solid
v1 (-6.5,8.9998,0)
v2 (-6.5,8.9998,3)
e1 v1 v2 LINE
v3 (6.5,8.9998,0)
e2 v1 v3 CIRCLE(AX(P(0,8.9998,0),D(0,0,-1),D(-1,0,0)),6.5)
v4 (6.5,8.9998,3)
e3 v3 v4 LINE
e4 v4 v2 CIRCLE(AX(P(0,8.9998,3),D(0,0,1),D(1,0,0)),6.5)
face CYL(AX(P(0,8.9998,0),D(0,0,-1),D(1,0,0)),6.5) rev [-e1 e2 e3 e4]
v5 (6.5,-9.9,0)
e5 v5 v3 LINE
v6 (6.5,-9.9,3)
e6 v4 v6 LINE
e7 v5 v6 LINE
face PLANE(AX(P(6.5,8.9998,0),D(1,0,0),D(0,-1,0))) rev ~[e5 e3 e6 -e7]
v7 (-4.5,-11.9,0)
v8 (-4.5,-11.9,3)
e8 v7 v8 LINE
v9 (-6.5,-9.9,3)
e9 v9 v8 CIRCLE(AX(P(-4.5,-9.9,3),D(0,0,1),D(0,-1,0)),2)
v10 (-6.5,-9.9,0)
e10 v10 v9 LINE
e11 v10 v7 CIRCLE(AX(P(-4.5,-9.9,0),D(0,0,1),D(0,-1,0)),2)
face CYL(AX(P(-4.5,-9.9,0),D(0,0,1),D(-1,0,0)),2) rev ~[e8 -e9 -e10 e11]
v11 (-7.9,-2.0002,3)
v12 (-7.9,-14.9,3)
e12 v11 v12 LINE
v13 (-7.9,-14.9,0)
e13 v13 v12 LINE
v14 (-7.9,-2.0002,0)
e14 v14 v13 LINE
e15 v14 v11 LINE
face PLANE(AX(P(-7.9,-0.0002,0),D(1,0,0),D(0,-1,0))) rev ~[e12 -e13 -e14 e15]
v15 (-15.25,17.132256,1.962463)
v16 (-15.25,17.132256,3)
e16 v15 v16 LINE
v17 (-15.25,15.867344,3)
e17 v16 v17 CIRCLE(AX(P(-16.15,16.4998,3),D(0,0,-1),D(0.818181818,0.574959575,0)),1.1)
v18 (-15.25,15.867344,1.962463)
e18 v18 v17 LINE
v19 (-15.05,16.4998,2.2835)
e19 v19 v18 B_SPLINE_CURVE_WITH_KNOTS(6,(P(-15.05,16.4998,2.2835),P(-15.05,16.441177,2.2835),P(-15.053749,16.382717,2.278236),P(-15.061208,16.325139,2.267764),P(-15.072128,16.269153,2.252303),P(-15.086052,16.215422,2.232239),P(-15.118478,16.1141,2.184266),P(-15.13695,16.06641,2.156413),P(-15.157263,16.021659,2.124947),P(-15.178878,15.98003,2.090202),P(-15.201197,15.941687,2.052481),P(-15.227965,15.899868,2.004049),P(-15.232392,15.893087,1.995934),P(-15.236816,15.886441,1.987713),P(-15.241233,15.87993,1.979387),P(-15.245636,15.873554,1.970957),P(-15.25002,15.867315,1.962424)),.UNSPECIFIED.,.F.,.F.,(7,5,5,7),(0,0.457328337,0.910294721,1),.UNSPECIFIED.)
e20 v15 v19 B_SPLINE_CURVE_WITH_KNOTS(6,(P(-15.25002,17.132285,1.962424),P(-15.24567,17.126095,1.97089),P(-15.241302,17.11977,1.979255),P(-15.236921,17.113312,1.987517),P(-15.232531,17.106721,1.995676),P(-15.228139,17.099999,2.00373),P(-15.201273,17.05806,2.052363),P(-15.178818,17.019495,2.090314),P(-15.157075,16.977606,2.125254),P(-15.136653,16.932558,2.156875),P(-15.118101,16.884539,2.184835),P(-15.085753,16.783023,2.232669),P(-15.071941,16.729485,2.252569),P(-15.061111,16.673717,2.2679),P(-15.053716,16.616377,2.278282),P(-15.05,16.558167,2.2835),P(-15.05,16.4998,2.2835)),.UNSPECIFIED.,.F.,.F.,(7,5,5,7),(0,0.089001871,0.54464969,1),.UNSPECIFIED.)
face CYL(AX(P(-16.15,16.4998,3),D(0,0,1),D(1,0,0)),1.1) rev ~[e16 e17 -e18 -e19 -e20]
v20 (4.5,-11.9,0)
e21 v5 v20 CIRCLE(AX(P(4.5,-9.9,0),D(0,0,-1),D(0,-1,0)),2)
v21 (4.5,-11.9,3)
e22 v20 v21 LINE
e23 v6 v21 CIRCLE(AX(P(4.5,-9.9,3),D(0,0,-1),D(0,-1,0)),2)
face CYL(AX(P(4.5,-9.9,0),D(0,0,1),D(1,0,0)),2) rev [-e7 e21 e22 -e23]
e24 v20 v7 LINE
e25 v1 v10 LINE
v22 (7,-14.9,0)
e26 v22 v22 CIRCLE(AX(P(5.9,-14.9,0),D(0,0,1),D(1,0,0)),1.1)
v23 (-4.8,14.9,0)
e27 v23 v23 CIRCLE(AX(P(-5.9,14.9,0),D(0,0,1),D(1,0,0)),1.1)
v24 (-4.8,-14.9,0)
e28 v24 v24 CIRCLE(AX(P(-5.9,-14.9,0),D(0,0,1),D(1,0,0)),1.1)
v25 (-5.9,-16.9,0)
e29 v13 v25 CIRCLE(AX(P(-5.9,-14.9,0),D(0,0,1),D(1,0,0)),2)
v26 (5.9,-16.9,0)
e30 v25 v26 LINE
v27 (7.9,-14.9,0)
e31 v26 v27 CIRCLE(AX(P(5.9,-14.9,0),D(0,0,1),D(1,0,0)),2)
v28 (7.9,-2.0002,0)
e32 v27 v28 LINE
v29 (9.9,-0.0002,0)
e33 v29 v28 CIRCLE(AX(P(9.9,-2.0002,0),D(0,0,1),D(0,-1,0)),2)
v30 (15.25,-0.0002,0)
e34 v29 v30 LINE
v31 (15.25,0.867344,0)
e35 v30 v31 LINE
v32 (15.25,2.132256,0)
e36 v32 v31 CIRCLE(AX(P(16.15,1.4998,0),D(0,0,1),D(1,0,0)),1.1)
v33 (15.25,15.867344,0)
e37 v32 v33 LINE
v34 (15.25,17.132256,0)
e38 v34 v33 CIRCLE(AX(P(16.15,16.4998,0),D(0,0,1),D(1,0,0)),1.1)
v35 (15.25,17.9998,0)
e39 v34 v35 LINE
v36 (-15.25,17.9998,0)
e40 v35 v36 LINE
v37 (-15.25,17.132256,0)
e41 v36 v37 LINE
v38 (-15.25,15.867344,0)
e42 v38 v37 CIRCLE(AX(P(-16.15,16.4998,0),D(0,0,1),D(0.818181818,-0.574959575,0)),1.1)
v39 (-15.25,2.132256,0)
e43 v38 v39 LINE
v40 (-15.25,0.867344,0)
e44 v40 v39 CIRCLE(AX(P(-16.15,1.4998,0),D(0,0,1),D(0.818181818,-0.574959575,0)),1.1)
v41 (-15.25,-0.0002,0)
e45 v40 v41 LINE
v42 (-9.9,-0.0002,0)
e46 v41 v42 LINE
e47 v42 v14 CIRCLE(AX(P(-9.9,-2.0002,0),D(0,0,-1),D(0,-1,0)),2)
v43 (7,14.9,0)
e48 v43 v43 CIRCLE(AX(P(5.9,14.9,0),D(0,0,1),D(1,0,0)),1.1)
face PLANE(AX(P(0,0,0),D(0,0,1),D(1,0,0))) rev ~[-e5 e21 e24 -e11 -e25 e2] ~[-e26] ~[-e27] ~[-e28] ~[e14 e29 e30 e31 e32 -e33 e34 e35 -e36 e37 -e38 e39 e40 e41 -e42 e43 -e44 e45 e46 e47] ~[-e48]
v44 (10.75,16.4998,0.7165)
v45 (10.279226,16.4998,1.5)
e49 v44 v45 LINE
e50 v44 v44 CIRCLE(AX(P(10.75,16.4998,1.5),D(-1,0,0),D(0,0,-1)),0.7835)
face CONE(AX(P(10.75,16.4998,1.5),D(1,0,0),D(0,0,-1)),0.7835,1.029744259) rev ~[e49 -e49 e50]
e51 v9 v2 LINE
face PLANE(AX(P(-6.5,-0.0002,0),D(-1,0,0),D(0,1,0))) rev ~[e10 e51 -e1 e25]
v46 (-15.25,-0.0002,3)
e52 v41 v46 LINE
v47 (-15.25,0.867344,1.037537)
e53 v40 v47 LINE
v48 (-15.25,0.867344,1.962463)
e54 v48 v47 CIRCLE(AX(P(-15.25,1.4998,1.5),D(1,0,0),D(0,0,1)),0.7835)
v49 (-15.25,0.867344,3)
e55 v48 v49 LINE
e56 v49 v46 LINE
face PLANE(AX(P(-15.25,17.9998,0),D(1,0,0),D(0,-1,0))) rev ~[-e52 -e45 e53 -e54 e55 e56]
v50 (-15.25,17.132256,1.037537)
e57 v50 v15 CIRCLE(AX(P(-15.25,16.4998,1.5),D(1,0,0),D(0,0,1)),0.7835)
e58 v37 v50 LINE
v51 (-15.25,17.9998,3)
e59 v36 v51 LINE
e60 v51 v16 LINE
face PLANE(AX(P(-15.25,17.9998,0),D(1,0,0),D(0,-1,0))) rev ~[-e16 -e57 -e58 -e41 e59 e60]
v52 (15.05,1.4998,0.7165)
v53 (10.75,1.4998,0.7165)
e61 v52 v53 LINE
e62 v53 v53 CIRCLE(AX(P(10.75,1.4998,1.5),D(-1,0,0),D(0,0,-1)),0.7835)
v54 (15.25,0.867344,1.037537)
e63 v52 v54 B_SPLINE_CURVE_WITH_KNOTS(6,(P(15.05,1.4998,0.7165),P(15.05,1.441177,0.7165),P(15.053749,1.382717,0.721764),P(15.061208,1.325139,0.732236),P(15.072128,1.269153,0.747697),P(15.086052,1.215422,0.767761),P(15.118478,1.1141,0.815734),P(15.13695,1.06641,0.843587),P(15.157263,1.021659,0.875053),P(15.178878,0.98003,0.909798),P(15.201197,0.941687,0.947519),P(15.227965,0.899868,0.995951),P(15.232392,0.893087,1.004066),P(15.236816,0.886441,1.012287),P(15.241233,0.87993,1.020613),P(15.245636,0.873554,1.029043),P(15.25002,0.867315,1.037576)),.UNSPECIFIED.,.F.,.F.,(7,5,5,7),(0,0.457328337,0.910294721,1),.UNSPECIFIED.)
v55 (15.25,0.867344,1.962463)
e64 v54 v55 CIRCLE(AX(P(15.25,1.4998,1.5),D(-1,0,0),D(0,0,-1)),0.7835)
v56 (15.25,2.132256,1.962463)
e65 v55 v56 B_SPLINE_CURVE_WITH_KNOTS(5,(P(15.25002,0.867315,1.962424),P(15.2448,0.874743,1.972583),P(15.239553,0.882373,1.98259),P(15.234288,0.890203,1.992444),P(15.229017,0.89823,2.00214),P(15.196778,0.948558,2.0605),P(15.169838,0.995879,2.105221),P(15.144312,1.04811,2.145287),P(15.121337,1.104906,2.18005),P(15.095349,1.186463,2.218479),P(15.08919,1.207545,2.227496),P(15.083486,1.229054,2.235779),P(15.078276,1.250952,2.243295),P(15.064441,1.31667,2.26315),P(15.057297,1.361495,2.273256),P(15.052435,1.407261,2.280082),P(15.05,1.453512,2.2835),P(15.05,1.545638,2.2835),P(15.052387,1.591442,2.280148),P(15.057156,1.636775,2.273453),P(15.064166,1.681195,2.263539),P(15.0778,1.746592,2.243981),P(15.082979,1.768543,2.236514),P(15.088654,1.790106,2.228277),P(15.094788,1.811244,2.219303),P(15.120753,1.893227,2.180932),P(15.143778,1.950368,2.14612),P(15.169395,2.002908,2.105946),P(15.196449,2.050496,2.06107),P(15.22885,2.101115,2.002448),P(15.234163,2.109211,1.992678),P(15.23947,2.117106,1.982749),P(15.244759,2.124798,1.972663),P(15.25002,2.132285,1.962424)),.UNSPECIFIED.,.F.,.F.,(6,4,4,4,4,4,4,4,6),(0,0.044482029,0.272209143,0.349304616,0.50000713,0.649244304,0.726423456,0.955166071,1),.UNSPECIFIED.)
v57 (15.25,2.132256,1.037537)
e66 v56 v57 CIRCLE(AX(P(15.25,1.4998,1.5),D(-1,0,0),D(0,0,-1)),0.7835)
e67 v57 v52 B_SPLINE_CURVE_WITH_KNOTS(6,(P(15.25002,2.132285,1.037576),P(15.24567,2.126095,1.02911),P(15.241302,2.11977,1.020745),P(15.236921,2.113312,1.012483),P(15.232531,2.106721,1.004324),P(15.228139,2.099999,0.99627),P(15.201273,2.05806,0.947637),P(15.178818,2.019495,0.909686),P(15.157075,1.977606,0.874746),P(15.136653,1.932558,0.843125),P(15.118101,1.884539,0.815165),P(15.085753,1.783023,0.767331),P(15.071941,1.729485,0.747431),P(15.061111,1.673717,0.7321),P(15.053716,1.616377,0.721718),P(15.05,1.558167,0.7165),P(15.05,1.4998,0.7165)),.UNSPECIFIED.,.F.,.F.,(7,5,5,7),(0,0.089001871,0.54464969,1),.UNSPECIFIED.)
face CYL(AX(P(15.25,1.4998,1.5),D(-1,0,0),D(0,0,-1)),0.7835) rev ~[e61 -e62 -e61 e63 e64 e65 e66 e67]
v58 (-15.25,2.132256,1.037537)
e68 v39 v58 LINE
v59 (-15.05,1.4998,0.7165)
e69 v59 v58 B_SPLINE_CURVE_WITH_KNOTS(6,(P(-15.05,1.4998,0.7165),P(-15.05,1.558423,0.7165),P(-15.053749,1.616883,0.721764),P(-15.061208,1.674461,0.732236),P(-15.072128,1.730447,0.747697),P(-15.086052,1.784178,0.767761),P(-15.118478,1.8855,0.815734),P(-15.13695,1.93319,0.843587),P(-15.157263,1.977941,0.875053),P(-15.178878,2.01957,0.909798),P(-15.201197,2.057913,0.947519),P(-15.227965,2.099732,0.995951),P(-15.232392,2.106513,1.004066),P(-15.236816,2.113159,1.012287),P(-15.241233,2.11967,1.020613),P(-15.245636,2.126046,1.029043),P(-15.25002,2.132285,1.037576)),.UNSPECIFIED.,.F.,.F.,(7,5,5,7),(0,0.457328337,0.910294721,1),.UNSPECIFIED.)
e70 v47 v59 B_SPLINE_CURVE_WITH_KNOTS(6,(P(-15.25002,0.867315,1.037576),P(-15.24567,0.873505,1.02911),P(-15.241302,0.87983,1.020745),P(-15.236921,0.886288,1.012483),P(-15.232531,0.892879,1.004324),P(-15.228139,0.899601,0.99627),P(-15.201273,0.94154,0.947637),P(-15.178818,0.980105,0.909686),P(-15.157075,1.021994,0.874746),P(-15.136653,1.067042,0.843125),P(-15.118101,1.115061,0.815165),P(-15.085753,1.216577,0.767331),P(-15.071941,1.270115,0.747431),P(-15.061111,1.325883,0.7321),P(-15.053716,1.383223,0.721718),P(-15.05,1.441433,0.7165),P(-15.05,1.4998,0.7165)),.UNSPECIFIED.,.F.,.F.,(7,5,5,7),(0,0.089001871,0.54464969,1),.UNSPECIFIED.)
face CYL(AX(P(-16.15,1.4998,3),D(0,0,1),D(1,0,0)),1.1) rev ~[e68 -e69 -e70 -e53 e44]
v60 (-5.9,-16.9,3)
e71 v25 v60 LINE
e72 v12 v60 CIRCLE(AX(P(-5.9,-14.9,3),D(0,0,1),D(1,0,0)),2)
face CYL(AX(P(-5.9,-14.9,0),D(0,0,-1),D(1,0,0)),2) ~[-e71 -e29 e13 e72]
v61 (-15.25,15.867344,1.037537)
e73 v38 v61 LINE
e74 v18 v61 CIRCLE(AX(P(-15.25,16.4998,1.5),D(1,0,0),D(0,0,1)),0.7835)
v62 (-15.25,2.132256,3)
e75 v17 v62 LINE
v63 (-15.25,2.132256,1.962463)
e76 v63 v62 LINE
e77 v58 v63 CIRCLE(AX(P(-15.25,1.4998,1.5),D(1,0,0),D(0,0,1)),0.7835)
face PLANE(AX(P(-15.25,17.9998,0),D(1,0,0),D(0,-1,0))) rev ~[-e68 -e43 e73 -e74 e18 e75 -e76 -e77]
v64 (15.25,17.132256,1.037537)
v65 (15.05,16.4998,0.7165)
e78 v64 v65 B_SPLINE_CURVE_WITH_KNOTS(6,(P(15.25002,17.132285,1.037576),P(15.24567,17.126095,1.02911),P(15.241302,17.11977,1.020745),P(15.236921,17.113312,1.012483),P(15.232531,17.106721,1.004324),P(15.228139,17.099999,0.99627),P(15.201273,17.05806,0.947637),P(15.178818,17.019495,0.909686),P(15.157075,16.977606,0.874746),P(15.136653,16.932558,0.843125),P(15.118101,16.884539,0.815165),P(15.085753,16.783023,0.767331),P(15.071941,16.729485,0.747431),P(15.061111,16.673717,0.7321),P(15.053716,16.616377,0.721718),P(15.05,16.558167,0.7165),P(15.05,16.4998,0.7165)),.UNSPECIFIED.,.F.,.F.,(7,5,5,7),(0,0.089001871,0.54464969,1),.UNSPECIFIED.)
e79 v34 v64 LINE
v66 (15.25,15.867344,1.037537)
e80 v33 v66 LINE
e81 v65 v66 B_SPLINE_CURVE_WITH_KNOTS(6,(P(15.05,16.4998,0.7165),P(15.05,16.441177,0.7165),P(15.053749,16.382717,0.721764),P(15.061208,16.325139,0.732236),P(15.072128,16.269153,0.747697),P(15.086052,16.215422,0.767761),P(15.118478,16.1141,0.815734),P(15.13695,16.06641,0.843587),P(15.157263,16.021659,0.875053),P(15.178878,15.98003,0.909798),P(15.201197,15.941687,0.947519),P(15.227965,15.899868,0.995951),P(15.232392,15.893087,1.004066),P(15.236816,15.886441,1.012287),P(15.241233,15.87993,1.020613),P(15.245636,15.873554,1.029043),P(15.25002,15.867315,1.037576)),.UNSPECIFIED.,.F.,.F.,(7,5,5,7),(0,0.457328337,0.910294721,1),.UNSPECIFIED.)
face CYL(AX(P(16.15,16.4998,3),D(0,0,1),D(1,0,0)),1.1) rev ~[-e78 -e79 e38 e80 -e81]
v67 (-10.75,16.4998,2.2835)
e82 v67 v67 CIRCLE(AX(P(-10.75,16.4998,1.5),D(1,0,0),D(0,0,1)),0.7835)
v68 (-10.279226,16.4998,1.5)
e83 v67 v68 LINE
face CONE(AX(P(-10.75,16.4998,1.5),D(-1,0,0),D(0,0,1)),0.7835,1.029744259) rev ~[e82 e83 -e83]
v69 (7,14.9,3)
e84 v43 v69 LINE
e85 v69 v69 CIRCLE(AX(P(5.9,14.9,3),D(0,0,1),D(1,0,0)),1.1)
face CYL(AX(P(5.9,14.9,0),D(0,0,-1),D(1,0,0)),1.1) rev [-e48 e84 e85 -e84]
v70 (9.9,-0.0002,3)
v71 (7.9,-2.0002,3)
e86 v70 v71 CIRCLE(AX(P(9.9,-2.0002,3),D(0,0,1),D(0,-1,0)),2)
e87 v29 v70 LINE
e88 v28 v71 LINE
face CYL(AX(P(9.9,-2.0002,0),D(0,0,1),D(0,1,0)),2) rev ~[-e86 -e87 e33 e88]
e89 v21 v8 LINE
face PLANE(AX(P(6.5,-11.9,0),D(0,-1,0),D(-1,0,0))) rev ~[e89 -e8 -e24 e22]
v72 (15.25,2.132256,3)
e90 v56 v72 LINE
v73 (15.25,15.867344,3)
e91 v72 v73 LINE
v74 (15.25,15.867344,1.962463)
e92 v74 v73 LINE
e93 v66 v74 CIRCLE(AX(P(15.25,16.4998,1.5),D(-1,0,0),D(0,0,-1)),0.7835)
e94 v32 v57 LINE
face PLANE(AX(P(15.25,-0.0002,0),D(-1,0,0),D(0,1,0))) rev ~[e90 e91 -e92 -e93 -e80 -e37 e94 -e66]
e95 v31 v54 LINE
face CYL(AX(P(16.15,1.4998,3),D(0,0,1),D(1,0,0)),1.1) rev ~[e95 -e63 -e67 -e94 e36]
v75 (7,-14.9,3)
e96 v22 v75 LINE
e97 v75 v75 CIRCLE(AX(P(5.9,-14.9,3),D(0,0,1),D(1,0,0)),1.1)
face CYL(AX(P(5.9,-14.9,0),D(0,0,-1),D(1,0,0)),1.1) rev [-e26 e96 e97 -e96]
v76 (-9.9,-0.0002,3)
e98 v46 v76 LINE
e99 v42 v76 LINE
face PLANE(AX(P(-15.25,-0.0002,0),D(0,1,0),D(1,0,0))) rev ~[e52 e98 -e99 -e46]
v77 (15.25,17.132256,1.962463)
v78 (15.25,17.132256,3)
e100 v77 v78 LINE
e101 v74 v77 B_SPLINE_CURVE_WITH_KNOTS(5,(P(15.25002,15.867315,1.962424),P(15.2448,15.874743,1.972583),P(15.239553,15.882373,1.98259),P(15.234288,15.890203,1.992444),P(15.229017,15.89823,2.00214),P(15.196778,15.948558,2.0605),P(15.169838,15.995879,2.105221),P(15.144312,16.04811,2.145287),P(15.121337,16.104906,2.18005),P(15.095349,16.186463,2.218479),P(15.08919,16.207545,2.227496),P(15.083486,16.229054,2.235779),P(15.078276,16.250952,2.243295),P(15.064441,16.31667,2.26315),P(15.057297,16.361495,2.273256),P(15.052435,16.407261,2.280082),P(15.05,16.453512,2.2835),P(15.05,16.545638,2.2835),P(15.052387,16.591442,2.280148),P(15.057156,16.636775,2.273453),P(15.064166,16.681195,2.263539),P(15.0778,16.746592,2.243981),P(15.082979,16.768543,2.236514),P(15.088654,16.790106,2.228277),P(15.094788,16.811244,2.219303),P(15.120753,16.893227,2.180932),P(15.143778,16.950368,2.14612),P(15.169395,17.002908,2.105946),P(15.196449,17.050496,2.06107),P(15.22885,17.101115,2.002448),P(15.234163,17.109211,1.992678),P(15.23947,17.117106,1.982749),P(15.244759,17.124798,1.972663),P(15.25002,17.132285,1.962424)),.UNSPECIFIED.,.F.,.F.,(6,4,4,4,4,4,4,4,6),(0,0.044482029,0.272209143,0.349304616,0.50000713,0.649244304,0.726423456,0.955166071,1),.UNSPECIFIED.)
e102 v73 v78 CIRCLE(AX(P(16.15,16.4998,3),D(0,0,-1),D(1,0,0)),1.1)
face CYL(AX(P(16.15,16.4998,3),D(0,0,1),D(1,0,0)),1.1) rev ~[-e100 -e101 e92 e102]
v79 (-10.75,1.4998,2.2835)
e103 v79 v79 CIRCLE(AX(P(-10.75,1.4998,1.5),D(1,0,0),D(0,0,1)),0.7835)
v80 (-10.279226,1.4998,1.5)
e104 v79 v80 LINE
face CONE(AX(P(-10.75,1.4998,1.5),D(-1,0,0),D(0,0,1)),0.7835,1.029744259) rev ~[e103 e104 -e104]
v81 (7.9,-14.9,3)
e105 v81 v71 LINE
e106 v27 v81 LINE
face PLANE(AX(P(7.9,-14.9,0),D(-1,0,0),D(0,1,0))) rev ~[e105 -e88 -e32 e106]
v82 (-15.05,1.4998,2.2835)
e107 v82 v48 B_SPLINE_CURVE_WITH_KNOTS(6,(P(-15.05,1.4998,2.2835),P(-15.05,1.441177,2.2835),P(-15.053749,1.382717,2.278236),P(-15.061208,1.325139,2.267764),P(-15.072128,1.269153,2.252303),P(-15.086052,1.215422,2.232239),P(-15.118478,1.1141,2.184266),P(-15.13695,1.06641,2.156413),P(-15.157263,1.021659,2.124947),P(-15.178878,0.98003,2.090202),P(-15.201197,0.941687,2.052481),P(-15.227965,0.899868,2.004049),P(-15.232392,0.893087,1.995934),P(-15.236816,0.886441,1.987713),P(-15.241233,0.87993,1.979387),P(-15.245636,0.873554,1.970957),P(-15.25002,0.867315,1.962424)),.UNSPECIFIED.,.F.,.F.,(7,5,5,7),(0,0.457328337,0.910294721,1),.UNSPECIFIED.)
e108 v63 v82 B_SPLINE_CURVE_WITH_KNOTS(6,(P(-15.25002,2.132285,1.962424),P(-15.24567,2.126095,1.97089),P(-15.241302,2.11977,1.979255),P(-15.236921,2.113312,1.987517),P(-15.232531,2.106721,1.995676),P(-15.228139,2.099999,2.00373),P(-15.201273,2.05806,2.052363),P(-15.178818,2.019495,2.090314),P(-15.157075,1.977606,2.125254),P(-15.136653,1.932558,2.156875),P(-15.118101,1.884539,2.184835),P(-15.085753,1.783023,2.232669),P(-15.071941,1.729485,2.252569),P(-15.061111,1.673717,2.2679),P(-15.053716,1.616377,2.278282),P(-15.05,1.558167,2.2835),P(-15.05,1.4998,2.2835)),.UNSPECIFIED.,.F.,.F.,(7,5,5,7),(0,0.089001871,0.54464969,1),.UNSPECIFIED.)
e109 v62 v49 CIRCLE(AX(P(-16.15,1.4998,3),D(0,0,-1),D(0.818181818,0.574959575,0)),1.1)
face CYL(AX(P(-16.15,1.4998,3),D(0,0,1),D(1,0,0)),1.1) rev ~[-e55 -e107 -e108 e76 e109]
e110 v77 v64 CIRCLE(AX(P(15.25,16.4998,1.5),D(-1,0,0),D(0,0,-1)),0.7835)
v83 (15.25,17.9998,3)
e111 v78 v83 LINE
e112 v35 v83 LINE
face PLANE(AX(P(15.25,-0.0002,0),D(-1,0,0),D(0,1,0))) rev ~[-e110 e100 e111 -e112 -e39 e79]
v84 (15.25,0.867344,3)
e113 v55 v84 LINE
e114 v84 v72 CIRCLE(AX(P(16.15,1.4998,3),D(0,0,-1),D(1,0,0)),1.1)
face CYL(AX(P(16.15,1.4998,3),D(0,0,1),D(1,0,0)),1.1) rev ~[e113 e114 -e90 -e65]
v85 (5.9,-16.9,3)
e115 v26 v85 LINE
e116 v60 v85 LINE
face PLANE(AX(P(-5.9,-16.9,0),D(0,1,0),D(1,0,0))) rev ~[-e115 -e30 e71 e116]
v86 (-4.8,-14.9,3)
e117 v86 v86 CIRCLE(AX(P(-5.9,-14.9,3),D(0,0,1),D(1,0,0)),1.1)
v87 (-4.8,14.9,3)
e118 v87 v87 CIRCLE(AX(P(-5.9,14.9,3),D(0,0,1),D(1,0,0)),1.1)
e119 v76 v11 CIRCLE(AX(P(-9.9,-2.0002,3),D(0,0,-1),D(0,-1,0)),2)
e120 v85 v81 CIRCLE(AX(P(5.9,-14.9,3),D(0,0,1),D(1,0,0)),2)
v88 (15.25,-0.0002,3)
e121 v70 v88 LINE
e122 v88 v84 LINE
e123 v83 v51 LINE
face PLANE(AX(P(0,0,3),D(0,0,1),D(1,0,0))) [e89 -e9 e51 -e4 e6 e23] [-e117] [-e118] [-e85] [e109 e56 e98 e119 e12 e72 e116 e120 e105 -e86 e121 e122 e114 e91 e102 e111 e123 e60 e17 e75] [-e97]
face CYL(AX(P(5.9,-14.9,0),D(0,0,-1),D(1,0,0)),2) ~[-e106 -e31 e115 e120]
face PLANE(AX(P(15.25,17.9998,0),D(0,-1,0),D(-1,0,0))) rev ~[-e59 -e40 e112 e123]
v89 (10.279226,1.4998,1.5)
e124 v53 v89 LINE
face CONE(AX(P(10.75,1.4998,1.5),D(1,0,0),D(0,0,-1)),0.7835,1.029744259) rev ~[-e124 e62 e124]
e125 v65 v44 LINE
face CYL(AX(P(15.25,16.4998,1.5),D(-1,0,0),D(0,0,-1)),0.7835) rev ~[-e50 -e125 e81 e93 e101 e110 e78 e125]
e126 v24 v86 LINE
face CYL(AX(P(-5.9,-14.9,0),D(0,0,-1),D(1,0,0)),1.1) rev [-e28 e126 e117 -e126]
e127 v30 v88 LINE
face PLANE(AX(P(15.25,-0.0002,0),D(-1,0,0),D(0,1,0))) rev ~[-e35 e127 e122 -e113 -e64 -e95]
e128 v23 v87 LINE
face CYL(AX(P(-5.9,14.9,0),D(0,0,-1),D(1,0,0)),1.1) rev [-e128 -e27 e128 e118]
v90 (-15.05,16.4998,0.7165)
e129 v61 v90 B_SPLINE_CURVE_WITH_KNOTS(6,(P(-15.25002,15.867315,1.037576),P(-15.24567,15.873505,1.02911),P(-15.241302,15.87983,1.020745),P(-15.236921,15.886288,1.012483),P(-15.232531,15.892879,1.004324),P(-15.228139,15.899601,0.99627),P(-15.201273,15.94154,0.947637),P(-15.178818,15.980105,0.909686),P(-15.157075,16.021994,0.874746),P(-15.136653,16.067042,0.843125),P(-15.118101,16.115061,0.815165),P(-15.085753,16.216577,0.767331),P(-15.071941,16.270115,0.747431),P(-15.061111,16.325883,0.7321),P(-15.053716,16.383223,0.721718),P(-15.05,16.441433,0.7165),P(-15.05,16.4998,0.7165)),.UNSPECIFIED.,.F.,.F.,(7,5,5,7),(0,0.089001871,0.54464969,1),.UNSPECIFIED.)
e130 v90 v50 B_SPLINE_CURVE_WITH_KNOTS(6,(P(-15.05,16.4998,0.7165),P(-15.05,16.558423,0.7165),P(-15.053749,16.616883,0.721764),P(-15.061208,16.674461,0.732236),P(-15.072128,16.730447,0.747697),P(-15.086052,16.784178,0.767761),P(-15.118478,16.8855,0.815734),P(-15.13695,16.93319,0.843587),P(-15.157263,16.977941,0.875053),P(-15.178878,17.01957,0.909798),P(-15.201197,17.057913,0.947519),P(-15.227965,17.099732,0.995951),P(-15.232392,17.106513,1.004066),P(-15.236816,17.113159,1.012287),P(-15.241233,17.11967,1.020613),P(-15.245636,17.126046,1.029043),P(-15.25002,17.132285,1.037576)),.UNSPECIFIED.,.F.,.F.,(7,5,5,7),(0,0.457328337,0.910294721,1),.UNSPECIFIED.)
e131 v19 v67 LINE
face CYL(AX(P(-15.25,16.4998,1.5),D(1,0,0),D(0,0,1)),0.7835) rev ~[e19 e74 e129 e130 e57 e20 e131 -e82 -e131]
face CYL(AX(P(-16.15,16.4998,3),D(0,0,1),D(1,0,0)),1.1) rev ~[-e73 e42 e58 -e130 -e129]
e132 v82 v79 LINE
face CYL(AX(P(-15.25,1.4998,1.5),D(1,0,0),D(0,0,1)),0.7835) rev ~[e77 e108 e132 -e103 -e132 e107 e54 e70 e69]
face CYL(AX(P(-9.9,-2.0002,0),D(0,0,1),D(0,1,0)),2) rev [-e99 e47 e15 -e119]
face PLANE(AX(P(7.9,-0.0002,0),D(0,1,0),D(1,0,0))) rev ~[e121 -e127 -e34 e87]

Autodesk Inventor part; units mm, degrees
ref_plane "YZ Plane" through (0, 0, 0) normal (1, 0, 0) x (0, 1, 0)
ref_plane "XZ Plane" through (0, 0, 0) normal (0, 1, 0) x (-1, 0, 0)
ref_plane "XY Plane" through (0, 0, 0) normal (0, 0, 1) x (1, 0, 0)
sketch "スケッチ1" plane through (0, 0, 0) normal (0, 0, 1) x (1, 0, 0)
  line L0 (-5.9, -14.9) -> (5.9, -14.9) construction
  line L1 (5.9, -14.9) -> (5.9, 14.9) construction
  line L2 (5.9, 14.9) -> (-5.9, 14.9) construction
  line L3 (-5.9, 14.9) -> (-5.9, -14.9) construction
  line L4 (-5.9, -14.9) -> (5.9, 14.9) construction
  line L5 (5.9, -14.9) -> (-5.9, 14.9) construction
  circle A0 centre (-5.9, 14.9) radius 1.1
  circle A1 centre (-5.9, 14.9) radius 2
  circle A2 centre (5.9, 14.9) radius 2
  circle A3 centre (5.9, 14.9) radius 1.1
  circle A4 centre (-5.9, -14.9) radius 2
  circle A5 centre (-5.9, -14.9) radius 1.1
  circle A6 centre (5.9, -14.9) radius 2
  circle A7 centre (5.9, -14.9) radius 1.1
  circle A8 centre (0, 8.9998) radius 6.5
  circle A9 centre (-5.9, 14.9) radius 8.344 construction
  line L6 (-6.5, 8.9998) -> (6.5, 8.9998)
  line L7 (6.5, 8.9998) -> (6.5, -11.9)
  line L8 (6.5, -11.9) -> (-6.5, -11.9)
  line L9 (-6.5, -11.9) -> (-6.5, 8.9998)
  line L10 (-7.9, -16.9) -> (7.9, -16.9)
  line L11 (7.9, -16.9) -> (7.9, 16.9)
  line L12 (7.9, 16.9) -> (-7.9, 16.9)
  line L13 (-7.9, 16.9) -> (-7.9, -16.9)
  line L14 (-7.9, -16.9) -> (7.9, 16.9) construction
  line L15 (7.9, -16.9) -> (-7.9, 16.9) construction
  line L16 (-15.25, -0.0002) -> (15.25, -0.0002)
  line L17 (15.25, -0.0002) -> (15.25, 17.9998)
  line L18 (15.25, 17.9998) -> (-15.25, 17.9998)
  line L19 (-15.25, 17.9998) -> (-15.25, -0.0002)
  line L20 (-15.25, -0.0002) -> (15.25, 17.9998) construction
  line L21 (15.25, -0.0002) -> (-15.25, 17.9998) construction
  point P0 (0, 0)
  point P1 (0, 14.9)
  point P2 (7.9, -0.0002)
  point P3 (-7.9, -0.0002)
  point P4 (-7.9, -14.9)
  point P5 (-5.9, -16.9)
  point P6 (5.9, -16.9)
  point P7 (7.9, -14.9)
  point P8 (6.5, 8.9998)
  dimension "d12" = 13
  dimension "d13" = 16.688
  dimension "d0" = 11.8
  dimension "d1" = 29.8
  dimension "d2" = 2.2
  dimension "d3" = 4
  dimension "d6" = 11.8
  dimension "d9" = 29.8
  dimension "d14" = 3
  dimension "d15" = 30.5
  dimension "d16" = 18
extrude "押し出し1" add sketch "スケッチ1" along normal blind 3 contours A1 A8 | A1 L12 A2 A8 | L12 L13 L16 L19 L18 L17 L11 | A1 L13 L12 | A1 A8 L9 L16 L13 | L12 L11 A2 | A2 A8 | L16 L9 L8 L7 L11 A6 L10 A4 L13 | L11 L16 L7 A8 A2 | A4 | A6 picked at (-7.5833, 15.0483) picked at (7.5833, 15.0483)
fillet "フィレット1" radius 2 4 edges at (-7.9, -0.0002, 1.5) (7.9, -0.0002, 1.5) (-6.5, -11.9, 1.5) (6.5, -11.9, 1.5)
sketch "スケッチ2" plane through (-15.25, -0.0002, 0) normal (-1, 0, 0) x (0, 0, 1)
  line L0 (0, 18) -> (3, 18) construction
  line L1 (1.5, 18) -> (1.5, 0) construction
  line L2 (0, 0) -> (3, 0) construction
  line L3 (0, 9) -> (3, 9) construction
  line L4 (1.5, 9) -> (3, 9) construction
  point P0 (0, 0.0002)
  point P1 (1.5, 16.5)
  point P2 (1.5, 1.5)
  dimension "d20" = 15
hole "穴1" at (-15.25, 16.4998, 1.5) at (-15.25, 1.4998, 1.5) direction (1, 0, 0) diameter 1.567 depth 4.5 tip angle 118 thread size "M2x0.4" class "6H" standard "ISO Metric profile"
sketch "スケッチ3" plane through (15.25, -0.0002, 0) normal (1, 0, 0) x (0, 0, -1)
  line L0 (0, 0) -> (0, 18) projected
  circle A0 centre (-1.5, 1.5) radius 0.7835 projected
  circle A1 centre (-1.5, 16.5) radius 0.7835 projected
  line L1 (0, 18) -> (0, 0) projected
  line L2 (0, 0) -> (-3, 0) projected
  line L3 (-3, 18) -> (-3, 0) projected
  line L4 (0, 18) -> (-3, 18) projected
  point P0 (0, 0.0002)
hole "穴2" at (15.25, 1.4998, 1.5) at (15.25, 16.4998, 1.5) direction (-1, 0, 0) diameter 1.567 depth 4.5 tip angle 118 thread size "M2x0.4" class "6H" standard "ISO Metric profile"
sketch "スケッチ4" plane through (0, 0, 3) normal (0, 0, 1) x (1, 0, 0)
  line L0 (-15.25, 0.7163) -> (-15.25, 2.2833) projected
  line L1 (-15.25, 15.7163) -> (-15.25, 17.2833) projected
  circle A0 centre (-16.15, 1.4998) radius 1.1
  line L2 (-15.25, 17.9998) -> (-15.25, -0.0002) construction
  line L3 (-15.25, 8.9998) -> (15.25, 8.9998) construction
  line L4 (15.25, -0.0002) -> (15.25, 17.9998) construction
  line L5 (15.25, 17.9998) -> (-15.25, 17.9998) construction
  line L6 (0, 17.9998) -> (0, 8.9998) construction
  circle A1 centre (-16.15, 16.4998) radius 1.1
  line L7 (15.25, 0.7163) -> (15.25, 2.2833)
  line L8 (15.25, 15.7163) -> (15.25, 17.2833)
  circle A2 centre (16.15, 1.4998) radius 1.1
  line L9 (15.25, 17.9998) -> (15.25, -0.0002) construction
  circle A3 centre (16.15, 16.4998) radius 1.1
  point P0 (0, 0)
  point P1 (-15.25, 1.4998)
  point P2 (15.25, 1.4998)
  dimension "d35" = 2.2
  dimension "d36" = 0.9
extrude "押し出し2" cut sketch "スケッチ4" against normal blind 3
equation "\"d6\" = d0"
equation "\"d9\" = d1"
properties part number "udeyo"
